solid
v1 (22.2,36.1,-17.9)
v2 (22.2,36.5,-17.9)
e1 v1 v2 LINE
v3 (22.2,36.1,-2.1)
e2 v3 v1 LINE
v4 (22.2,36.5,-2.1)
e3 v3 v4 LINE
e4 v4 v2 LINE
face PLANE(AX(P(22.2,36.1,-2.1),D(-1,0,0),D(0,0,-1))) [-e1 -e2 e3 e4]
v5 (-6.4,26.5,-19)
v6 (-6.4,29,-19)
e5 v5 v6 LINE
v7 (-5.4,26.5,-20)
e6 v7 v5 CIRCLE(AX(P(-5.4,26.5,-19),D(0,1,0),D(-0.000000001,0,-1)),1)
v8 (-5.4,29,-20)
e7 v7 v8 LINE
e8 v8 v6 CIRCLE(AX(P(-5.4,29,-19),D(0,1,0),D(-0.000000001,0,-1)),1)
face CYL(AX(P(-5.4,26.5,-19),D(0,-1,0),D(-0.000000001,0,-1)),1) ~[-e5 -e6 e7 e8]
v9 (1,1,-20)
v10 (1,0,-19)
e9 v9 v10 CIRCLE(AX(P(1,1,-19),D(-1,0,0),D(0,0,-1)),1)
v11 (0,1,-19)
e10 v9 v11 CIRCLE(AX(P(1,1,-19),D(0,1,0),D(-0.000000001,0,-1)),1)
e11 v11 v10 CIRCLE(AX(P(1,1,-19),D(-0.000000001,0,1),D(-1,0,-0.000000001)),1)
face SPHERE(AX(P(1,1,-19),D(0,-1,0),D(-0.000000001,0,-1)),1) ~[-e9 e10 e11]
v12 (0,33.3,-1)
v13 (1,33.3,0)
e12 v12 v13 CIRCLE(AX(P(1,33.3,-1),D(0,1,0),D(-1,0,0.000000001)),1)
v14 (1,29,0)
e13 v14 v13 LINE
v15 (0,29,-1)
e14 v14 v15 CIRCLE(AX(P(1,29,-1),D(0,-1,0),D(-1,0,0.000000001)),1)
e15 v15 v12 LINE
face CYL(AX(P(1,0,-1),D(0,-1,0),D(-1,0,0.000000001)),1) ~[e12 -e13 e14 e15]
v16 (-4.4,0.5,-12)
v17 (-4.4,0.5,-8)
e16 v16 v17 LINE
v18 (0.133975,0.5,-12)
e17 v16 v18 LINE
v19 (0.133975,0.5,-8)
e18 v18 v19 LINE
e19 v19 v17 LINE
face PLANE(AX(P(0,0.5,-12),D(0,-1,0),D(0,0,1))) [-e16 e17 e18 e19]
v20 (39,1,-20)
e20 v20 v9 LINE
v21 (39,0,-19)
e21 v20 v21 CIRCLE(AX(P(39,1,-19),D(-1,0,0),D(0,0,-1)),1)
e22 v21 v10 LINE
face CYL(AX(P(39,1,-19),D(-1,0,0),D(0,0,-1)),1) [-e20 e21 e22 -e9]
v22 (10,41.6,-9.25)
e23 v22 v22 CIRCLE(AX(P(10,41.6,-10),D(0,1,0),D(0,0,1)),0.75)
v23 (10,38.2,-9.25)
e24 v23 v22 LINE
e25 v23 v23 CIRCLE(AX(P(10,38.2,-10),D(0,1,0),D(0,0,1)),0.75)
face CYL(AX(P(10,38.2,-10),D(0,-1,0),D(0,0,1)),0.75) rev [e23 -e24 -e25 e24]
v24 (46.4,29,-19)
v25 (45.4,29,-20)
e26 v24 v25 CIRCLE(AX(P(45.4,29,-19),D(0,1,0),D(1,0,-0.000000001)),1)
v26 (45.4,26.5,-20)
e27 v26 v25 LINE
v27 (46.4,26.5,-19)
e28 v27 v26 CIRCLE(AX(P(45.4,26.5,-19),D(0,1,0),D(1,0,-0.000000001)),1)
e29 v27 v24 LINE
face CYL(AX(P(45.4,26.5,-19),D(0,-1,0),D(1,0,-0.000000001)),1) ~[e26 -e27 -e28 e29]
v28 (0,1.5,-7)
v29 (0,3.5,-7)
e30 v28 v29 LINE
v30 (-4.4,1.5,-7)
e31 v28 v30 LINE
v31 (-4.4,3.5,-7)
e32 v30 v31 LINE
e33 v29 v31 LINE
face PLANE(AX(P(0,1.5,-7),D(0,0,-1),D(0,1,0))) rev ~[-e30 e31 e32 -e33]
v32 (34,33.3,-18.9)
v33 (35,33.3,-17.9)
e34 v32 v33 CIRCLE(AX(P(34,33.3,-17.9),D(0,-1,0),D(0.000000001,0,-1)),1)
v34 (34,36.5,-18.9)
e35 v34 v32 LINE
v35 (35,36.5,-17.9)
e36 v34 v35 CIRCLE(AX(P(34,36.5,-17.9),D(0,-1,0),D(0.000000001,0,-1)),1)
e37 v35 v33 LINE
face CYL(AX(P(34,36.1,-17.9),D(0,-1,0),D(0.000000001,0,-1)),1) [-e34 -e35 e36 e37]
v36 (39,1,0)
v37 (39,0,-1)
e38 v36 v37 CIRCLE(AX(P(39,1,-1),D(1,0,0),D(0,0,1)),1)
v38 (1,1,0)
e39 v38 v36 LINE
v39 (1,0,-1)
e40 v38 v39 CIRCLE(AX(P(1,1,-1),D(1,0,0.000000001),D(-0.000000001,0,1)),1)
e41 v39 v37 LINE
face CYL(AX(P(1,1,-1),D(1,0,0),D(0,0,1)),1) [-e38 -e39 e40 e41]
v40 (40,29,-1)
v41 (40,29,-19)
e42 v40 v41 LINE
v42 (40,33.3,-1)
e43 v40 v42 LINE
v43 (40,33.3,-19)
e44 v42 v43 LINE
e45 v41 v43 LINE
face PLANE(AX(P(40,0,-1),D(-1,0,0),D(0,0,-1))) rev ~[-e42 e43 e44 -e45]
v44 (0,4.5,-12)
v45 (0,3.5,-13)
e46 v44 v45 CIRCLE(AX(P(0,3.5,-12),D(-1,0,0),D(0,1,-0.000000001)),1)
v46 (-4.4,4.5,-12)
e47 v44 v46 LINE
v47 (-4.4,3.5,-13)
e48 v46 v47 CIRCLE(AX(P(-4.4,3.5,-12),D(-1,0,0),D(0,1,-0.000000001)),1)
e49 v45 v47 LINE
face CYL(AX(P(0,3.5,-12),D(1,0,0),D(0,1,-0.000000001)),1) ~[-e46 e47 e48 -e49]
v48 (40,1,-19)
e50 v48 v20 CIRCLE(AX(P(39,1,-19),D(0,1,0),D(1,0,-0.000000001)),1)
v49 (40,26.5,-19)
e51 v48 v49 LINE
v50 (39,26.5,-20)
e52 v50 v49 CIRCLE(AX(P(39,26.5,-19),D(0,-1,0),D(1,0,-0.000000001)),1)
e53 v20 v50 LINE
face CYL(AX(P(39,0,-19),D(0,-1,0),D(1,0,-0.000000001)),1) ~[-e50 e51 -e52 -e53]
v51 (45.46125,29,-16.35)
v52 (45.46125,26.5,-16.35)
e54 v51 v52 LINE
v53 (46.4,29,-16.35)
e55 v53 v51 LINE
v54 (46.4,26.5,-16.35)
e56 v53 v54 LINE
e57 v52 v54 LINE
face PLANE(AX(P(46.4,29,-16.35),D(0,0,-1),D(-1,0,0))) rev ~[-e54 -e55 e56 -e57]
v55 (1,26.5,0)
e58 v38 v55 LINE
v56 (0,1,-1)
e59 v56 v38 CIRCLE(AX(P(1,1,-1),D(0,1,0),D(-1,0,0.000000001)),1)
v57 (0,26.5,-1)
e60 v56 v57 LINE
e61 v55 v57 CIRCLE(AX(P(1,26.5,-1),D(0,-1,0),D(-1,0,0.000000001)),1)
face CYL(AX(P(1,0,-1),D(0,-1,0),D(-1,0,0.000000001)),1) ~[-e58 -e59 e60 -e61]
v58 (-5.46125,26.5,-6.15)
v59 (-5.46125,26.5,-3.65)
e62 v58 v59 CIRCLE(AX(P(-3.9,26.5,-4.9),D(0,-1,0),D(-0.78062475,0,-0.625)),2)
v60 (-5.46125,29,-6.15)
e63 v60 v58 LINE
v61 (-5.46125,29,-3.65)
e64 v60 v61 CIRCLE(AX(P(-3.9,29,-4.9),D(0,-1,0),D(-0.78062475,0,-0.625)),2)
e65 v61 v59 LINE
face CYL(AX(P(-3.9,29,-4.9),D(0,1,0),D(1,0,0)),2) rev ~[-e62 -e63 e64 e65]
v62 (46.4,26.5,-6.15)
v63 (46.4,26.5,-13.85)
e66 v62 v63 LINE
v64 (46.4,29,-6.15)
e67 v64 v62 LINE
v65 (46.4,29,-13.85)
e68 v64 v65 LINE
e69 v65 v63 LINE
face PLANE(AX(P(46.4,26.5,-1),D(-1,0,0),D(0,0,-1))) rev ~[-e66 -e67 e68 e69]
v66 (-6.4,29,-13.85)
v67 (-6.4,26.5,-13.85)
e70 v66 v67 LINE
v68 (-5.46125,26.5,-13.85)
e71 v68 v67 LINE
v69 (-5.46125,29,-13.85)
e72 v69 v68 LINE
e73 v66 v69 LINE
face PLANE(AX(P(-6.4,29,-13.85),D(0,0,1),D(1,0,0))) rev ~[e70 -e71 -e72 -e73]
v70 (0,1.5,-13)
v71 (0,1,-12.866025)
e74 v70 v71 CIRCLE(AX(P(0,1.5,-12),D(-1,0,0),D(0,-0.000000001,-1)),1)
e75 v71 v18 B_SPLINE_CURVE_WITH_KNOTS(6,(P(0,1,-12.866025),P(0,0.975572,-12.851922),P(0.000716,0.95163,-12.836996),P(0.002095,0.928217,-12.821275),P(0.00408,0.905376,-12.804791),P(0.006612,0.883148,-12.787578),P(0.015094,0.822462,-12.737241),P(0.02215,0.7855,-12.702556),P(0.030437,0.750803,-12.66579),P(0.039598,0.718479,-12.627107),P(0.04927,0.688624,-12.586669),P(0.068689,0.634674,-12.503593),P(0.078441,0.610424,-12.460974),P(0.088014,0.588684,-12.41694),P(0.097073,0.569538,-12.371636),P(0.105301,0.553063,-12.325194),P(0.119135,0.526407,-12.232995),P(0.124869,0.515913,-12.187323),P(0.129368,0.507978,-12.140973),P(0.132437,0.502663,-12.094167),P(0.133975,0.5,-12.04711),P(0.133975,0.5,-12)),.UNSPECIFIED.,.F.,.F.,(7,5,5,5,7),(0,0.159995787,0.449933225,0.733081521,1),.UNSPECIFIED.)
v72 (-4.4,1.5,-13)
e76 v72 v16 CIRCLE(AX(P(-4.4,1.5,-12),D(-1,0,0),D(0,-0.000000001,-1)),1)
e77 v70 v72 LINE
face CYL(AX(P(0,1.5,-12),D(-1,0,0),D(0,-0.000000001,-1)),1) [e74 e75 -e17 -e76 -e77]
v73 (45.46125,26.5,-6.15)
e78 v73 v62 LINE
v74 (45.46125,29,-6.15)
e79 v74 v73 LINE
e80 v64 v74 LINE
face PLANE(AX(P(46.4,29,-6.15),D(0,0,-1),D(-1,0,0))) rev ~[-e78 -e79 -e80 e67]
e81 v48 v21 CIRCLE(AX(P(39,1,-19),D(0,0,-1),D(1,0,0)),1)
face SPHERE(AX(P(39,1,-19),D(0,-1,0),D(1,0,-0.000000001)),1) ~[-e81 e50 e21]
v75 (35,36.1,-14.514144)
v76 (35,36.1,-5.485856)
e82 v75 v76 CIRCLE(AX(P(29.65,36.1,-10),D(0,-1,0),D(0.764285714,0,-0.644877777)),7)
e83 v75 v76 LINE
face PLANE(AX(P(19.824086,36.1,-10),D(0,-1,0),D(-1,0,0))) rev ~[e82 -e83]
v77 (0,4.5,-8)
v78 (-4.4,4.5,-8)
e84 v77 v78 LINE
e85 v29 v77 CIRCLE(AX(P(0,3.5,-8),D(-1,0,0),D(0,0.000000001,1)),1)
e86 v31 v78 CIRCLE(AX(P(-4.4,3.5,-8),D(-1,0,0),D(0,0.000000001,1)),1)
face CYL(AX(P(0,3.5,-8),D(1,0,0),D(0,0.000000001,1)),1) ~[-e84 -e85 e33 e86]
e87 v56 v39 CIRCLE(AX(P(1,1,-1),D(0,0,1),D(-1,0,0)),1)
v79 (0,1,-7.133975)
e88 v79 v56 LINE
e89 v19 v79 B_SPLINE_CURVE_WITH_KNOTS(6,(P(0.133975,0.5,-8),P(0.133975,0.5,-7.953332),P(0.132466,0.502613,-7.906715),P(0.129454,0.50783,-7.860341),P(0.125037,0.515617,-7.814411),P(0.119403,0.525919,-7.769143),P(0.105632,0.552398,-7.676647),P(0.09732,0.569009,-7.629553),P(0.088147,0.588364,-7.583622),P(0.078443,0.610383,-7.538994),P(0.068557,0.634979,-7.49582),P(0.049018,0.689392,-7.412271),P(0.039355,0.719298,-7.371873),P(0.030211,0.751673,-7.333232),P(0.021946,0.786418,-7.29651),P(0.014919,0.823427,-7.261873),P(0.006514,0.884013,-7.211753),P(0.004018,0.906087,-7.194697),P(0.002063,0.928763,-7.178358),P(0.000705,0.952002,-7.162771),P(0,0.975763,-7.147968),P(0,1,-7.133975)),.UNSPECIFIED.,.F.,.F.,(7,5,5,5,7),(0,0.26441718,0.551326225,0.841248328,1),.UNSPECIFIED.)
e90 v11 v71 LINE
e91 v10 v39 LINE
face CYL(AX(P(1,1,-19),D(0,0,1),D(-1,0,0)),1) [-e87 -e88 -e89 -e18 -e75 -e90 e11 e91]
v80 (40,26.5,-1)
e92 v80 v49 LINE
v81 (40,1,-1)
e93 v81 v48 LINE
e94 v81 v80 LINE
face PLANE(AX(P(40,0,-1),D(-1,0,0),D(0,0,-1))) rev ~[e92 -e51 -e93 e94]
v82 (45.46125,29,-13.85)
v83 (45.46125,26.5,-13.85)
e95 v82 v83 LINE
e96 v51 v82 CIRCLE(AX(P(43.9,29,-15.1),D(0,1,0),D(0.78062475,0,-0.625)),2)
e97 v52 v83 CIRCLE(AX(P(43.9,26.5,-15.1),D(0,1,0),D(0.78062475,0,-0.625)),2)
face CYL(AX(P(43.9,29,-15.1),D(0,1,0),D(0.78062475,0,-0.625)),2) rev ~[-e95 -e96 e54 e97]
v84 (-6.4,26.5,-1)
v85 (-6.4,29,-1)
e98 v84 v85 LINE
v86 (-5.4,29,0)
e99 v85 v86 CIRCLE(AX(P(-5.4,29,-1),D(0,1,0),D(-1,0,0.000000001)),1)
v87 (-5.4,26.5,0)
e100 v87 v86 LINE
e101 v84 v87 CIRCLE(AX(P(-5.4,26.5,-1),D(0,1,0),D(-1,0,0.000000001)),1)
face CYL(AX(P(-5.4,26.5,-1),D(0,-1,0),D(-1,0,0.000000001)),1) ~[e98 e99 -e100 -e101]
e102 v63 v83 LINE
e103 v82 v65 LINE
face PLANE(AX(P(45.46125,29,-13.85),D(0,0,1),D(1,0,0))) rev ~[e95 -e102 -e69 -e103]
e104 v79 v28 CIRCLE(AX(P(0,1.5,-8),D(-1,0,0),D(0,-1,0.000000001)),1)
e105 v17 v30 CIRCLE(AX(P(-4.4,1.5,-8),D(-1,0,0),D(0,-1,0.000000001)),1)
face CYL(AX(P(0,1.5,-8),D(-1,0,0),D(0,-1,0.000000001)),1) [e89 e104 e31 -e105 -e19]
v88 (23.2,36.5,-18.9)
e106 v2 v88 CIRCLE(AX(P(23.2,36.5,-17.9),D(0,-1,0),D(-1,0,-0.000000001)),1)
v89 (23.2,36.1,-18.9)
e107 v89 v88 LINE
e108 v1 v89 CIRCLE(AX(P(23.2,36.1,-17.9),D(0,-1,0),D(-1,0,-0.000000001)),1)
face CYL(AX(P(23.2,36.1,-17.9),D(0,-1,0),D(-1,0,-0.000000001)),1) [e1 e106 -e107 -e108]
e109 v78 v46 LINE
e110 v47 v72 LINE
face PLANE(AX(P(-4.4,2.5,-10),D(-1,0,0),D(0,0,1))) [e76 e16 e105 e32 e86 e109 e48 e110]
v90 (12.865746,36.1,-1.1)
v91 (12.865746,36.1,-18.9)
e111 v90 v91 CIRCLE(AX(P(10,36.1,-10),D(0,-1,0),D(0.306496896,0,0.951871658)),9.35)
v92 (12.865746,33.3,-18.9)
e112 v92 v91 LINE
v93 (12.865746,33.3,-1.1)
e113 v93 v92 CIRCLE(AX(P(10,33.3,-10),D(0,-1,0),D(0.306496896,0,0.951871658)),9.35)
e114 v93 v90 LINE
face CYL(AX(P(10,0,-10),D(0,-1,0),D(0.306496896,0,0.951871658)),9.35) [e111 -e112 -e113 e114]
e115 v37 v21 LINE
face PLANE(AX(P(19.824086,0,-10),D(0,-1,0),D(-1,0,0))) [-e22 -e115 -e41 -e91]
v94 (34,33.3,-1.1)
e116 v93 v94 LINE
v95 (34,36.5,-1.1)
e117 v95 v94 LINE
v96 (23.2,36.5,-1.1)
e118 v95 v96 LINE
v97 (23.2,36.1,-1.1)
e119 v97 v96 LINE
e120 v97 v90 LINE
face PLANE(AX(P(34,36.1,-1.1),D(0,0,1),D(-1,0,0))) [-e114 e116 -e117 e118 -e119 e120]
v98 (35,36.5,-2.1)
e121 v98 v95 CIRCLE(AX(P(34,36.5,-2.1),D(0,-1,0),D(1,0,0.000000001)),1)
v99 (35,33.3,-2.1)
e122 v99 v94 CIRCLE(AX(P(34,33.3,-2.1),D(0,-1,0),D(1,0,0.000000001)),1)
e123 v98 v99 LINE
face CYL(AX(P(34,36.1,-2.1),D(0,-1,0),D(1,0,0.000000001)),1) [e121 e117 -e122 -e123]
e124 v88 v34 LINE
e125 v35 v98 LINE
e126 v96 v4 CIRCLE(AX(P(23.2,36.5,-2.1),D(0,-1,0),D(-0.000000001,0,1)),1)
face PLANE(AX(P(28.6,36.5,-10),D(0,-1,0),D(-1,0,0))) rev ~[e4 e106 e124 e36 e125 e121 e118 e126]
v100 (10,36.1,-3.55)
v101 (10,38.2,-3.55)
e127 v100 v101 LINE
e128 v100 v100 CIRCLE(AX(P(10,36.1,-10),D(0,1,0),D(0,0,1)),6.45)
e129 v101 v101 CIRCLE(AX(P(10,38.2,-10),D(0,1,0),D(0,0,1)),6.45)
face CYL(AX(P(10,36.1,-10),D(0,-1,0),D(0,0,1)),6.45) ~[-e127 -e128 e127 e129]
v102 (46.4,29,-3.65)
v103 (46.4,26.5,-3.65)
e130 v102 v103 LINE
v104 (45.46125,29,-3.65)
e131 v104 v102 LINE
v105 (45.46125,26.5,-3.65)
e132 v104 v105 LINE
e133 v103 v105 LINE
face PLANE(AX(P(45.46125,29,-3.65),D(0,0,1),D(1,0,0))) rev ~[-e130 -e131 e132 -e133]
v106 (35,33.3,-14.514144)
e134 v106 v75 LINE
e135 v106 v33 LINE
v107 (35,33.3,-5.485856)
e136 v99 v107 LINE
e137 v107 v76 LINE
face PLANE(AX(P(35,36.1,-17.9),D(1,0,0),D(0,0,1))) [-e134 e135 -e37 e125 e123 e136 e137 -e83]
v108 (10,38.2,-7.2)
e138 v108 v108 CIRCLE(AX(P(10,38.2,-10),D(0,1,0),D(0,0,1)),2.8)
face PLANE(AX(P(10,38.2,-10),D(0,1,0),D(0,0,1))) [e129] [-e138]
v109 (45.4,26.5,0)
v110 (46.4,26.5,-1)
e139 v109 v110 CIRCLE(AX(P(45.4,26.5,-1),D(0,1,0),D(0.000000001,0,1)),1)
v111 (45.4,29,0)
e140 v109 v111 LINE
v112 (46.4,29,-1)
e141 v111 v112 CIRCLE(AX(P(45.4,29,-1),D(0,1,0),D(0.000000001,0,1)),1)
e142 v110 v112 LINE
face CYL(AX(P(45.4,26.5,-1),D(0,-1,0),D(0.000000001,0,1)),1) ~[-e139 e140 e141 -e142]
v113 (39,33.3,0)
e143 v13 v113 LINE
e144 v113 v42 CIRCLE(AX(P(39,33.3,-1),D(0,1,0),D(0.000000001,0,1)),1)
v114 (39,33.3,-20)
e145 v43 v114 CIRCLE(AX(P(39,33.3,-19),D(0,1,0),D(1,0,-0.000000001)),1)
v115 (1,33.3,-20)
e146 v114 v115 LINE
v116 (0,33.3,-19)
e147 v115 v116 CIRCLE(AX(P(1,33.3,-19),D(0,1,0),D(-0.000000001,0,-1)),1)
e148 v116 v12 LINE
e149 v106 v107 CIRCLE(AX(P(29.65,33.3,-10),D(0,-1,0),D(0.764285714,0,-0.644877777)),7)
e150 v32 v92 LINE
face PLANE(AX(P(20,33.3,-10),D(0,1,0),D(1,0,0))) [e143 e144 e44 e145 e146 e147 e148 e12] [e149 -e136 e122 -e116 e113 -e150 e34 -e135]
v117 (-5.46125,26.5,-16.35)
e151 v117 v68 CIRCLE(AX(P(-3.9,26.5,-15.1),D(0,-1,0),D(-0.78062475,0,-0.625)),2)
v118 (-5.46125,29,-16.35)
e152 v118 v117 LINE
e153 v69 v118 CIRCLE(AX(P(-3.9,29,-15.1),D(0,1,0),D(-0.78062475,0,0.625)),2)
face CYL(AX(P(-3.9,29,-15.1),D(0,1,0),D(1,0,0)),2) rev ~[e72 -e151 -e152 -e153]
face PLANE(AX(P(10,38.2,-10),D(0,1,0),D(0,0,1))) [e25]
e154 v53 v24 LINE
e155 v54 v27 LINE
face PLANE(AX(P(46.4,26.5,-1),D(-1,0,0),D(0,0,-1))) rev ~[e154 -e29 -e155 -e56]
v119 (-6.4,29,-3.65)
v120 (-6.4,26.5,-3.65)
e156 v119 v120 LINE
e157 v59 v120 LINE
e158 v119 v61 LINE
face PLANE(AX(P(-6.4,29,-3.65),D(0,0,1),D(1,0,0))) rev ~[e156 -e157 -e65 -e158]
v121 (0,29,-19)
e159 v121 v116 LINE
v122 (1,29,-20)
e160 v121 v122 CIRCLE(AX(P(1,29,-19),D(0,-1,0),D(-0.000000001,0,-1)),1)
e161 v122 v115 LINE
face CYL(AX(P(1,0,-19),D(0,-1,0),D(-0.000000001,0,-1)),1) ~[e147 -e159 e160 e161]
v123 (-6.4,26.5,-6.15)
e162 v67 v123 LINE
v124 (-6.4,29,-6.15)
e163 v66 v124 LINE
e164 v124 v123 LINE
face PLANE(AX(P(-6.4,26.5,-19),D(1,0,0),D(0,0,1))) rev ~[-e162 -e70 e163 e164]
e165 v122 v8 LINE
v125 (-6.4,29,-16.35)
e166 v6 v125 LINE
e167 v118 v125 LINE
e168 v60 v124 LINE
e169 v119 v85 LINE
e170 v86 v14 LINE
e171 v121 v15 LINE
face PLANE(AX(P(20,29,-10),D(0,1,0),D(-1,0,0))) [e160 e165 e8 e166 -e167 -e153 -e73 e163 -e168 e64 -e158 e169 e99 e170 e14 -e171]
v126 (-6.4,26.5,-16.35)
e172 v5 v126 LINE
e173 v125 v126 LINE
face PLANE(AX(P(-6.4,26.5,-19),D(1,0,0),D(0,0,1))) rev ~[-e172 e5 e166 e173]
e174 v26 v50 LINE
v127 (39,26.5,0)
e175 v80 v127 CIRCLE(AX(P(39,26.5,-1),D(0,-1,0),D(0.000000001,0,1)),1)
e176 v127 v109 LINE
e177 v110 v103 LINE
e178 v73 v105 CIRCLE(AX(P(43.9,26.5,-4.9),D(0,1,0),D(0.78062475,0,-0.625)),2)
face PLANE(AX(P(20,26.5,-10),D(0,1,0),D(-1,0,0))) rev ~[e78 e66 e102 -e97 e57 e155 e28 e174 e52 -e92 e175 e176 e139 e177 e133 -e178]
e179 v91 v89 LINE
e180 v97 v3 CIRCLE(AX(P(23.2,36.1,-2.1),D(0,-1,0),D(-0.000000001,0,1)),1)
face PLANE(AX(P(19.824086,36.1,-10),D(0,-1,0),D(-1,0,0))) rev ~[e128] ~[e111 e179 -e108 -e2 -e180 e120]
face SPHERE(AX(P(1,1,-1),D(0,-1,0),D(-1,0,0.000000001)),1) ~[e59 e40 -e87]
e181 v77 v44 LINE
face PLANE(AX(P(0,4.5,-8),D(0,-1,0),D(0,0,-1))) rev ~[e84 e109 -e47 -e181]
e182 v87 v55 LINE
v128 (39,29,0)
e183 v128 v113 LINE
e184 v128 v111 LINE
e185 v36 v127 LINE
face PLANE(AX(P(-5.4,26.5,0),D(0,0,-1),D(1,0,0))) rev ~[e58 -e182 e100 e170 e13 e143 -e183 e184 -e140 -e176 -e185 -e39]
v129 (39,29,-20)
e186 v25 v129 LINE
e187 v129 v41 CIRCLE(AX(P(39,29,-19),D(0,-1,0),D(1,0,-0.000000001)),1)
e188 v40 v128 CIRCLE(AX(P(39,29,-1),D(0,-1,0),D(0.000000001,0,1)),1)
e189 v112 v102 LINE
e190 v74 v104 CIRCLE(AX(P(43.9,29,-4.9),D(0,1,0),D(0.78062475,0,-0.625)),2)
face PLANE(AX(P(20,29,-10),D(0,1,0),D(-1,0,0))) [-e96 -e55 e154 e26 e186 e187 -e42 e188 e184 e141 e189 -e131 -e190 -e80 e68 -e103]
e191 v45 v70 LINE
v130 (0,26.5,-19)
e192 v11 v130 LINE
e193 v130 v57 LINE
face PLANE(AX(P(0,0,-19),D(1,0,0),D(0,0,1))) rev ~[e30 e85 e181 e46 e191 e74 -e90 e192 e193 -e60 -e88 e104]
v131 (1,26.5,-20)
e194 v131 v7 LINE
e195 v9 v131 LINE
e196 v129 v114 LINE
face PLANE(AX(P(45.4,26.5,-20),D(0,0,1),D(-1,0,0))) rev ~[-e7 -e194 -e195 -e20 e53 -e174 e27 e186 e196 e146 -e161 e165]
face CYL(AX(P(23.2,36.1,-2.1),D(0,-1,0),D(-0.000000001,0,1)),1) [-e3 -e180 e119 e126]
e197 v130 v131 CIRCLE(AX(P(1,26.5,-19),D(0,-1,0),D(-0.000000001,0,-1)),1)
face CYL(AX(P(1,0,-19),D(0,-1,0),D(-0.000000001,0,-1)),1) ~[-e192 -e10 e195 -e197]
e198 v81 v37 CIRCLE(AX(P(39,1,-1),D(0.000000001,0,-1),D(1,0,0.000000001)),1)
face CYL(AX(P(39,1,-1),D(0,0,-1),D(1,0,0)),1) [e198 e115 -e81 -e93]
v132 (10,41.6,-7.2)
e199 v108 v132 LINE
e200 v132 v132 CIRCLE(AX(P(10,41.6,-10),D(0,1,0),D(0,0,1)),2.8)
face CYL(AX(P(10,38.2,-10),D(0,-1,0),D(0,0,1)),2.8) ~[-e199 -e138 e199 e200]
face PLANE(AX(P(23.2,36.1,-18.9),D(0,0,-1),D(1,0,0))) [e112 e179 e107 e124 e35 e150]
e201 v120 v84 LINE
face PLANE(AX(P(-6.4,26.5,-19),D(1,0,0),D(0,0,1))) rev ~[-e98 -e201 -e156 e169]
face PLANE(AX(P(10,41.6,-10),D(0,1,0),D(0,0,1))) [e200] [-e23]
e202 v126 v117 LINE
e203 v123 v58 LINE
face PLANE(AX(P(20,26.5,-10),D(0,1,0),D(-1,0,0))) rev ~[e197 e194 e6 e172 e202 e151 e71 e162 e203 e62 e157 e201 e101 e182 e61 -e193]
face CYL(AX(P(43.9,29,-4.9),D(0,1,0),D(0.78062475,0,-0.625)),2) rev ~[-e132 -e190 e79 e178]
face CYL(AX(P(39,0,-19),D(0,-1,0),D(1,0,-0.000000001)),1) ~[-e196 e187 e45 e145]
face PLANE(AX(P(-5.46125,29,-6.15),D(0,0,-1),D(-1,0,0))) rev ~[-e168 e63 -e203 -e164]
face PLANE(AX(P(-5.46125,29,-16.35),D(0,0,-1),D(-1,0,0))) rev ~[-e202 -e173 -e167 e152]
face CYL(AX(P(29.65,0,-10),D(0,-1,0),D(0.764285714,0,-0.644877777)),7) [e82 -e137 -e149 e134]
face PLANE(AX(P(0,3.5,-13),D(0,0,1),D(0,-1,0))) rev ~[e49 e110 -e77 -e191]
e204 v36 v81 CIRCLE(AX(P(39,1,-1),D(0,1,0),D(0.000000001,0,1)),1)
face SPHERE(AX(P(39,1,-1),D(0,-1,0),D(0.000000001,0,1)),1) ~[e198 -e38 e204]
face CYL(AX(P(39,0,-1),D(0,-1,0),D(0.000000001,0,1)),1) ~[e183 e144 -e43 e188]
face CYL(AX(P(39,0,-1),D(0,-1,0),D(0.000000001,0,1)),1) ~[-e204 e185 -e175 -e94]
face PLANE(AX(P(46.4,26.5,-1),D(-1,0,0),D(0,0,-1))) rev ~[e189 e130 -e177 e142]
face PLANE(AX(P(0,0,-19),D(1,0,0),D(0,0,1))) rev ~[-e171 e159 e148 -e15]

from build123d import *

# Parameters (mm, degrees)
EXTRUDE_1_DEPTH             = 33.3
EXTRUDE_START               = -26.5
EXTRUDE_2_DEPTH             = 2.5
EXTRUDE_START_2             = -33.3
EXTRUDE_3_DEPTH             = 36.1
EXTRUDE_4_DEPTH             = 0.4
SKETCH_6_R                  = 6.45
EXTRUDE_5_DEPTH             = 2.1
SKETCH_7_R                  = 2.8
SKETCH_7_R_2                = 0.75
EXTRUDE_6_DEPTH             = 3.4
FILLET_1_R                  = 1
CUT_EXTRUDE_1_REACH         = 60.258
SKETCH_8_R                  = 2
EXTRUDE_7_DEPTH             = 4.4
EXTRUDE_7_DIRECTION_2_REACH = 67.449


with BuildPart() as part:
    # Эскиз1 → Вытянуть1 (new body)
    with BuildSketch(Plane(origin=(0, 0, 0), x_dir=(1, 0, 0), z_dir=(0, 1, 0))):
        with BuildLine():
            Line((1, 0), (39, 0))
            ThreePointArc((39, 0), (39.707106781, 0.292893219), (40, 1))
            Line((40, 1), (40, 19))
            ThreePointArc((40, 19), (39.707106781, 19.707106781), (39, 20))
            Line((39, 20), (1, 20))
            ThreePointArc((1, 20), (0.292893219, 19.707106781), (0, 19))
            Line((0, 19), (0, 1))
            ThreePointArc((0, 1), (0.292893219, 0.292893219), (1, 0))
        make_face()
    extrude(amount=EXTRUDE_1_DEPTH)

    # Эскиз2 → Вытянуть2 (add)
    with BuildSketch(Plane.XZ.offset(EXTRUDE_START)):
        with BuildLine():
            Line((-5.4, 0), (45.4, 0))
            ThreePointArc((45.4, 0), (46.107106781, -0.292893219), (46.4, -1))
            Line((46.4, -1), (46.4, -19))
            ThreePointArc((46.4, -19), (46.107106781, -19.707106781), (45.4, -20))
            Line((45.4, -20), (-5.4, -20))
            ThreePointArc((-5.4, -20), (-6.107106781, -19.707106781), (-6.4, -19))
            Line((-6.4, -19), (-6.4, -1))
            ThreePointArc((-6.4, -1), (-6.107106781, -0.292893219), (-5.4, 0))
        make_face()
    extrude(amount=-EXTRUDE_2_DEPTH)

    # Эскиз3 → Вытянуть3 (add)
    with BuildSketch(Plane(origin=(0, 33.3, 0), x_dir=(1, 0, 0), z_dir=(0, 1, 0)).offset(EXTRUDE_START_2)):
        with BuildLine():
            Line((12.865745976, 18.9), (34, 18.9))
            ThreePointArc((34, 18.9), (34.707106781, 18.607106781), (35, 17.9))
            Line((35, 17.9), (35, 14.514144437))
            ThreePointArc((35, 14.514144437), (36.65, 10), (35, 5.485855563))
            Line((35, 5.485855563), (35, 2.1))
            ThreePointArc((35, 2.1), (34.707106781, 1.392893219), (34, 1.1))
            Line((34, 1.1), (12.865745976, 1.1))
            ThreePointArc((12.865745976, 1.1), (0.65, 10), (12.865745976, 18.9))
        make_face()
    extrude(amount=EXTRUDE_3_DEPTH)

    # Эскиз5 → Вытянуть4 (add)
    with BuildSketch(Plane(origin=(0, 36.1, 0), x_dir=(1, 0, 0), z_dir=(0, 1, 0))):
        with BuildLine():
            Line((23.2, 18.9), (34, 18.9))
            ThreePointArc((34, 18.9), (34.707106781, 18.607106781), (35, 17.9))
            Line((35, 17.9), (35, 2.1))
            ThreePointArc((35, 2.1), (34.707106781, 1.392893219), (34, 1.1))
            Line((34, 1.1), (23.2, 1.1))
            ThreePointArc((23.2, 1.1), (22.492893219, 1.392893219), (22.2, 2.1))
            Line((22.2, 2.1), (22.2, 17.9))
            ThreePointArc((22.2, 17.9), (22.492893219, 18.607106781), (23.2, 18.9))
        make_face()
    extrude(amount=EXTRUDE_4_DEPTH)

    # Эскиз6 → Вытянуть5 (add)
    with BuildSketch(Plane(origin=(0, 36.1, 0), x_dir=(1, 0, 0), z_dir=(0, 1, 0))):
        with Locations(Location((10, 10, 0), (0, 0, 270))):
            Circle(SKETCH_6_R)
    extrude(amount=EXTRUDE_5_DEPTH)

    # Эскиз7 → Вытянуть6 (add)
    with BuildSketch(Plane(origin=(0, 38.2, 0), x_dir=(1, 0, 0), z_dir=(0, 1, 0))):
        with Locations(Location((10, 10, 0), (0, 0, 270))):
            Circle(SKETCH_7_R)
        with Locations(Location((10, 10, 0), (0, 0, 270))):
            Circle(SKETCH_7_R_2, mode=Mode.SUBTRACT)
    extrude(amount=EXTRUDE_6_DEPTH)

    # Скругление1
    fillet_1_edges = [part.edges().sort_by_distance(p)[0] for p in [
        (20, 0, -20),
        (39.707106781, 0, -19.707106781),
        (40, 0, -10),
        (39.707106781, 0, -0.292893219),
        (20, 0, 0),
        (0.292893219, 0, -0.292893219),
        (0, 0, -10),
        (0.292893219, 0, -19.707106781),
    ]]
    fillet(fillet_1_edges, radius=FILLET_1_R)

    # Эскиз8 → Вырез-Вытянуть1 (cut, up to next)
    with BuildSketch(Plane(origin=(0, 29, 0), x_dir=(1, 0, 0), z_dir=(0, 1, 0)), mode=Mode.PRIVATE) as cut_extrude_1_sk1:
        with Locations((-3.9, 4.9)):
            Circle(SKETCH_8_R)
    cut_extrude_1_tool1 = extrude(cut_extrude_1_sk1.sketch, amount=-CUT_EXTRUDE_1_REACH, mode=Mode.PRIVATE) & part.part
    # Эскиз8 → Вырез-Вытянуть1 (cut, up to next)
    with BuildSketch(Plane(origin=(0, 29, 0), x_dir=(1, 0, 0), z_dir=(0, 1, 0)), mode=Mode.PRIVATE) as cut_extrude_1_sk2:
        with Locations((-3.9, 15.1)):
            Circle(SKETCH_8_R)
    cut_extrude_1_tool2 = extrude(cut_extrude_1_sk2.sketch, amount=-CUT_EXTRUDE_1_REACH, mode=Mode.PRIVATE) & part.part
    # Эскиз8 → Вырез-Вытянуть1 (cut, up to next)
    with BuildSketch(Plane(origin=(0, 29, 0), x_dir=(1, 0, 0), z_dir=(0, 1, 0)), mode=Mode.PRIVATE) as cut_extrude_1_sk3:
        with Locations((43.9, 15.1)):
            Circle(SKETCH_8_R)
    cut_extrude_1_tool3 = extrude(cut_extrude_1_sk3.sketch, amount=-CUT_EXTRUDE_1_REACH, mode=Mode.PRIVATE) & part.part
    # Эскиз8 → Вырез-Вытянуть1 (cut, up to next)
    with BuildSketch(Plane(origin=(0, 29, 0), x_dir=(1, 0, 0), z_dir=(0, 1, 0)), mode=Mode.PRIVATE) as cut_extrude_1_sk4:
        with Locations((43.9, 4.9)):
            Circle(SKETCH_8_R)
    cut_extrude_1_tool4 = extrude(cut_extrude_1_sk4.sketch, amount=-CUT_EXTRUDE_1_REACH, mode=Mode.PRIVATE) & part.part
    # Эскиз8 → Вырез-Вытянуть1 (cut, up to next)
    with BuildSketch(Plane(origin=(0, 29, 0), x_dir=(1, 0, 0), z_dir=(0, 1, 0)), mode=Mode.PRIVATE) as cut_extrude_1_sk5:
        with BuildLine():
            ThreePointArc((-5.4612495, 13.85), (-5.9, 15.1), (-5.4612495, 16.35))
            Line((-5.4612495, 16.35), (-6.4, 16.35))
            Line((-6.4, 16.35), (-6.4, 13.85))
            Line((-6.4, 13.85), (-5.4612495, 13.85))
        make_face()
    cut_extrude_1_tool5 = extrude(cut_extrude_1_sk5.sketch, amount=-CUT_EXTRUDE_1_REACH, mode=Mode.PRIVATE) & part.part
    # Эскиз8 → Вырез-Вытянуть1 (cut, up to next)
    with BuildSketch(Plane(origin=(0, 29, 0), x_dir=(1, 0, 0), z_dir=(0, 1, 0)), mode=Mode.PRIVATE) as cut_extrude_1_sk6:
        with BuildLine():
            ThreePointArc((-1.9, 15.1), (-3.237617557, 16.987127314), (-5.4612495, 16.35))
            Line((-5.4612495, 16.35), (-5.4612495, 13.85))
            ThreePointArc((-5.4612495, 13.85), (-3.237617557, 13.212872686), (-1.9, 15.1))
        make_face()
    cut_extrude_1_tool6 = extrude(cut_extrude_1_sk6.sketch, amount=-CUT_EXTRUDE_1_REACH, mode=Mode.PRIVATE) & part.part
    # Эскиз8 → Вырез-Вытянуть1 (cut, up to next)
    with BuildSketch(Plane(origin=(0, 29, 0), x_dir=(1, 0, 0), z_dir=(0, 1, 0)), mode=Mode.PRIVATE) as cut_extrude_1_sk7:
        with BuildLine():
            Line((-5.4612495, 13.85), (-5.4612495, 16.35))
            ThreePointArc((-5.4612495, 16.35), (-5.9, 15.1), (-5.4612495, 13.85))
        make_face()
    cut_extrude_1_tool7 = extrude(cut_extrude_1_sk7.sketch, amount=-CUT_EXTRUDE_1_REACH, mode=Mode.PRIVATE) & part.part
    # Эскиз8 → Вырез-Вытянуть1 (cut, up to next)
    with BuildSketch(Plane(origin=(0, 29, 0), x_dir=(1, 0, 0), z_dir=(0, 1, 0)), mode=Mode.PRIVATE) as cut_extrude_1_sk8:
        with BuildLine():
            ThreePointArc((-1.9, 4.9), (-3.237617557, 6.787127314), (-5.4612495, 6.15))
            Line((-5.4612495, 6.15), (-5.4612495, 3.65))
            ThreePointArc((-5.4612495, 3.65), (-3.237617557, 3.012872686), (-1.9, 4.9))
        make_face()
    cut_extrude_1_tool8 = extrude(cut_extrude_1_sk8.sketch, amount=-CUT_EXTRUDE_1_REACH, mode=Mode.PRIVATE) & part.part
    # Эскиз8 → Вырез-Вытянуть1 (cut, up to next)
    with BuildSketch(Plane(origin=(0, 29, 0), x_dir=(1, 0, 0), z_dir=(0, 1, 0)), mode=Mode.PRIVATE) as cut_extrude_1_sk9:
        with BuildLine():
            Line((-5.4612495, 3.65), (-5.4612495, 6.15))
            ThreePointArc((-5.4612495, 6.15), (-5.9, 4.9), (-5.4612495, 3.65))
        make_face()
    cut_extrude_1_tool9 = extrude(cut_extrude_1_sk9.sketch, amount=-CUT_EXTRUDE_1_REACH, mode=Mode.PRIVATE) & part.part
    # Эскиз8 → Вырез-Вытянуть1 (cut, up to next)
    with BuildSketch(Plane(origin=(0, 29, 0), x_dir=(1, 0, 0), z_dir=(0, 1, 0)), mode=Mode.PRIVATE) as cut_extrude_1_sk10:
        with BuildLine():
            Line((-5.4612495, 6.15), (-6.4, 6.15))
            Line((-6.4, 6.15), (-6.4, 3.65))
            Line((-6.4, 3.65), (-5.4612495, 3.65))
            ThreePointArc((-5.4612495, 3.65), (-5.9, 4.9), (-5.4612495, 6.15))
        make_face()
    cut_extrude_1_tool10 = extrude(cut_extrude_1_sk10.sketch, amount=-CUT_EXTRUDE_1_REACH, mode=Mode.PRIVATE) & part.part
    # Эскиз8 → Вырез-Вытянуть1 (cut, up to next)
    with BuildSketch(Plane(origin=(0, 29, 0), x_dir=(1, 0, 0), z_dir=(0, 1, 0)), mode=Mode.PRIVATE) as cut_extrude_1_sk11:
        with BuildLine():
            ThreePointArc((45.9, 15.1), (45.787127314, 15.762382443), (45.4612495, 16.35))
            Line((45.4612495, 16.35), (45.4612495, 13.85))
            ThreePointArc((45.4612495, 13.85), (45.787127314, 14.437617557), (45.9, 15.1))
        make_face()
    cut_extrude_1_tool11 = extrude(cut_extrude_1_sk11.sketch, amount=-CUT_EXTRUDE_1_REACH, mode=Mode.PRIVATE) & part.part
    # Эскиз8 → Вырез-Вытянуть1 (cut, up to next)
    with BuildSketch(Plane(origin=(0, 29, 0), x_dir=(1, 0, 0), z_dir=(0, 1, 0)), mode=Mode.PRIVATE) as cut_extrude_1_sk12:
        with BuildLine():
            Line((45.4612495, 13.85), (45.4612495, 16.35))
            ThreePointArc((45.4612495, 16.35), (41.9, 15.1), (45.4612495, 13.85))
        make_face()
    cut_extrude_1_tool12 = extrude(cut_extrude_1_sk12.sketch, amount=-CUT_EXTRUDE_1_REACH, mode=Mode.PRIVATE) & part.part
    # Эскиз8 → Вырез-Вытянуть1 (cut, up to next)
    with BuildSketch(Plane(origin=(0, 29, 0), x_dir=(1, 0, 0), z_dir=(0, 1, 0)), mode=Mode.PRIVATE) as cut_extrude_1_sk13:
        with BuildLine():
            Line((46.4, 16.35), (45.4612495, 16.35))
            ThreePointArc((45.4612495, 16.35), (45.787127314, 15.762382443), (45.9, 15.1))
            ThreePointArc((45.9, 15.1), (45.787127314, 14.437617557), (45.4612495, 13.85))
            Line((45.4612495, 13.85), (46.4, 13.85))
            Line((46.4, 13.85), (46.4, 16.35))
        make_face()
    cut_extrude_1_tool13 = extrude(cut_extrude_1_sk13.sketch, amount=-CUT_EXTRUDE_1_REACH, mode=Mode.PRIVATE) & part.part
    # Эскиз8 → Вырез-Вытянуть1 (cut, up to next)
    with BuildSketch(Plane(origin=(0, 29, 0), x_dir=(1, 0, 0), z_dir=(0, 1, 0)), mode=Mode.PRIVATE) as cut_extrude_1_sk14:
        with BuildLine():
            ThreePointArc((45.9, 4.9), (45.787127314, 5.562382443), (45.4612495, 6.15))
            Line((45.4612495, 6.15), (45.4612495, 3.65))
            ThreePointArc((45.4612495, 3.65), (45.787127314, 4.237617557), (45.9, 4.9))
        make_face()
    cut_extrude_1_tool14 = extrude(cut_extrude_1_sk14.sketch, amount=-CUT_EXTRUDE_1_REACH, mode=Mode.PRIVATE) & part.part
    # Эскиз8 → Вырез-Вытянуть1 (cut, up to next)
    with BuildSketch(Plane(origin=(0, 29, 0), x_dir=(1, 0, 0), z_dir=(0, 1, 0)), mode=Mode.PRIVATE) as cut_extrude_1_sk15:
        with BuildLine():
            Line((45.4612495, 3.65), (45.4612495, 6.15))
            ThreePointArc((45.4612495, 6.15), (41.9, 4.9), (45.4612495, 3.65))
        make_face()
    cut_extrude_1_tool15 = extrude(cut_extrude_1_sk15.sketch, amount=-CUT_EXTRUDE_1_REACH, mode=Mode.PRIVATE) & part.part
    # Эскиз8 → Вырез-Вытянуть1 (cut, up to next)
    with BuildSketch(Plane(origin=(0, 29, 0), x_dir=(1, 0, 0), z_dir=(0, 1, 0)), mode=Mode.PRIVATE) as cut_extrude_1_sk16:
        with BuildLine():
            Line((46.4, 6.15), (45.4612495, 6.15))
            ThreePointArc((45.4612495, 6.15), (45.787127314, 5.562382443), (45.9, 4.9))
            ThreePointArc((45.9, 4.9), (45.787127314, 4.237617557), (45.4612495, 3.65))
            Line((45.4612495, 3.65), (46.4, 3.65))
            Line((46.4, 3.65), (46.4, 6.15))
        make_face()
    cut_extrude_1_tool16 = extrude(cut_extrude_1_sk16.sketch, amount=-CUT_EXTRUDE_1_REACH, mode=Mode.PRIVATE) & part.part
    add(cut_extrude_1_tool1.solids().sort_by_distance((-3.9, 29, -4.9))[0], mode=Mode.SUBTRACT)
    add(cut_extrude_1_tool2.solids().sort_by_distance((-3.9, 29, -15.1))[0], mode=Mode.SUBTRACT)
    add(cut_extrude_1_tool3.solids().sort_by_distance((43.9, 29, -15.1))[0], mode=Mode.SUBTRACT)
    add(cut_extrude_1_tool4.solids().sort_by_distance((43.9, 29, -4.9))[0], mode=Mode.SUBTRACT)
    add(cut_extrude_1_tool5.solids().sort_by_distance((-6.067542, 29, -15.1))[0], mode=Mode.SUBTRACT)
    add(cut_extrude_1_tool6.solids().sort_by_distance((-3.789816, 29, -15.1))[0], mode=Mode.SUBTRACT)
    add(cut_extrude_1_tool7.solids().sort_by_distance((-5.638512, 29, -15.1))[0], mode=Mode.SUBTRACT)
    add(cut_extrude_1_tool8.solids().sort_by_distance((-3.789816, 29, -4.9))[0], mode=Mode.SUBTRACT)
    add(cut_extrude_1_tool9.solids().sort_by_distance((-5.638512, 29, -4.9))[0], mode=Mode.SUBTRACT)
    add(cut_extrude_1_tool10.solids().sort_by_distance((-6.067542, 29, -4.9))[0], mode=Mode.SUBTRACT)
    add(cut_extrude_1_tool11.solids().sort_by_distance((45.638512, 29, -15.1))[0], mode=Mode.SUBTRACT)
    add(cut_extrude_1_tool12.solids().sort_by_distance((43.789816, 29, -15.1))[0], mode=Mode.SUBTRACT)
    add(cut_extrude_1_tool13.solids().sort_by_distance((46.067542, 29, -15.1))[0], mode=Mode.SUBTRACT)
    add(cut_extrude_1_tool14.solids().sort_by_distance((45.638512, 29, -4.9))[0], mode=Mode.SUBTRACT)
    add(cut_extrude_1_tool15.solids().sort_by_distance((43.789816, 29, -4.9))[0], mode=Mode.SUBTRACT)
    add(cut_extrude_1_tool16.solids().sort_by_distance((46.067542, 29, -4.9))[0], mode=Mode.SUBTRACT)

    # Эскиз10 → Вытянуть7 (add)
    with BuildSketch(Plane.ZY):
        with BuildLine():
            Line((-12, 0.5), (-8, 0.5))
            ThreePointArc((-8, 0.5), (-7.292893219, 0.792893219), (-7, 1.5))
            Line((-7, 1.5), (-7, 3.5))
            ThreePointArc((-7, 3.5), (-7.292893219, 4.207106781), (-8, 4.5))
            Line((-8, 4.5), (-12, 4.5))
            ThreePointArc((-12, 4.5), (-12.707106781, 4.207106781), (-13, 3.5))
            Line((-13, 3.5), (-13, 1.5))
            ThreePointArc((-13, 1.5), (-12.707106781, 0.792893219), (-12, 0.5))
        make_face()
    extrude(amount=EXTRUDE_7_DEPTH)

    # Эскиз10 → Вытянуть7 direction 2 (add, up to next)
    with BuildSketch(Plane.ZY, mode=Mode.PRIVATE) as extrude_7_direction_2_sk1:
        with BuildLine():
            Line((-12, 0.5), (-8, 0.5))
            ThreePointArc((-8, 0.5), (-7.292893219, 0.792893219), (-7, 1.5))
            Line((-7, 1.5), (-7, 3.5))
            ThreePointArc((-7, 3.5), (-7.292893219, 4.207106781), (-8, 4.5))
            Line((-8, 4.5), (-12, 4.5))
            ThreePointArc((-12, 4.5), (-12.707106781, 4.207106781), (-13, 3.5))
            Line((-13, 3.5), (-13, 1.5))
            ThreePointArc((-13, 1.5), (-12.707106781, 0.792893219), (-12, 0.5))
        make_face()
    extrude_7_direction_2_tool1 = extrude(extrude_7_direction_2_sk1.sketch, amount=-EXTRUDE_7_DIRECTION_2_REACH, mode=Mode.PRIVATE) - part.part
    add(extrude_7_direction_2_tool1.solids().sort_by_distance((0, 2.5, -10))[0])


solid = part.part
